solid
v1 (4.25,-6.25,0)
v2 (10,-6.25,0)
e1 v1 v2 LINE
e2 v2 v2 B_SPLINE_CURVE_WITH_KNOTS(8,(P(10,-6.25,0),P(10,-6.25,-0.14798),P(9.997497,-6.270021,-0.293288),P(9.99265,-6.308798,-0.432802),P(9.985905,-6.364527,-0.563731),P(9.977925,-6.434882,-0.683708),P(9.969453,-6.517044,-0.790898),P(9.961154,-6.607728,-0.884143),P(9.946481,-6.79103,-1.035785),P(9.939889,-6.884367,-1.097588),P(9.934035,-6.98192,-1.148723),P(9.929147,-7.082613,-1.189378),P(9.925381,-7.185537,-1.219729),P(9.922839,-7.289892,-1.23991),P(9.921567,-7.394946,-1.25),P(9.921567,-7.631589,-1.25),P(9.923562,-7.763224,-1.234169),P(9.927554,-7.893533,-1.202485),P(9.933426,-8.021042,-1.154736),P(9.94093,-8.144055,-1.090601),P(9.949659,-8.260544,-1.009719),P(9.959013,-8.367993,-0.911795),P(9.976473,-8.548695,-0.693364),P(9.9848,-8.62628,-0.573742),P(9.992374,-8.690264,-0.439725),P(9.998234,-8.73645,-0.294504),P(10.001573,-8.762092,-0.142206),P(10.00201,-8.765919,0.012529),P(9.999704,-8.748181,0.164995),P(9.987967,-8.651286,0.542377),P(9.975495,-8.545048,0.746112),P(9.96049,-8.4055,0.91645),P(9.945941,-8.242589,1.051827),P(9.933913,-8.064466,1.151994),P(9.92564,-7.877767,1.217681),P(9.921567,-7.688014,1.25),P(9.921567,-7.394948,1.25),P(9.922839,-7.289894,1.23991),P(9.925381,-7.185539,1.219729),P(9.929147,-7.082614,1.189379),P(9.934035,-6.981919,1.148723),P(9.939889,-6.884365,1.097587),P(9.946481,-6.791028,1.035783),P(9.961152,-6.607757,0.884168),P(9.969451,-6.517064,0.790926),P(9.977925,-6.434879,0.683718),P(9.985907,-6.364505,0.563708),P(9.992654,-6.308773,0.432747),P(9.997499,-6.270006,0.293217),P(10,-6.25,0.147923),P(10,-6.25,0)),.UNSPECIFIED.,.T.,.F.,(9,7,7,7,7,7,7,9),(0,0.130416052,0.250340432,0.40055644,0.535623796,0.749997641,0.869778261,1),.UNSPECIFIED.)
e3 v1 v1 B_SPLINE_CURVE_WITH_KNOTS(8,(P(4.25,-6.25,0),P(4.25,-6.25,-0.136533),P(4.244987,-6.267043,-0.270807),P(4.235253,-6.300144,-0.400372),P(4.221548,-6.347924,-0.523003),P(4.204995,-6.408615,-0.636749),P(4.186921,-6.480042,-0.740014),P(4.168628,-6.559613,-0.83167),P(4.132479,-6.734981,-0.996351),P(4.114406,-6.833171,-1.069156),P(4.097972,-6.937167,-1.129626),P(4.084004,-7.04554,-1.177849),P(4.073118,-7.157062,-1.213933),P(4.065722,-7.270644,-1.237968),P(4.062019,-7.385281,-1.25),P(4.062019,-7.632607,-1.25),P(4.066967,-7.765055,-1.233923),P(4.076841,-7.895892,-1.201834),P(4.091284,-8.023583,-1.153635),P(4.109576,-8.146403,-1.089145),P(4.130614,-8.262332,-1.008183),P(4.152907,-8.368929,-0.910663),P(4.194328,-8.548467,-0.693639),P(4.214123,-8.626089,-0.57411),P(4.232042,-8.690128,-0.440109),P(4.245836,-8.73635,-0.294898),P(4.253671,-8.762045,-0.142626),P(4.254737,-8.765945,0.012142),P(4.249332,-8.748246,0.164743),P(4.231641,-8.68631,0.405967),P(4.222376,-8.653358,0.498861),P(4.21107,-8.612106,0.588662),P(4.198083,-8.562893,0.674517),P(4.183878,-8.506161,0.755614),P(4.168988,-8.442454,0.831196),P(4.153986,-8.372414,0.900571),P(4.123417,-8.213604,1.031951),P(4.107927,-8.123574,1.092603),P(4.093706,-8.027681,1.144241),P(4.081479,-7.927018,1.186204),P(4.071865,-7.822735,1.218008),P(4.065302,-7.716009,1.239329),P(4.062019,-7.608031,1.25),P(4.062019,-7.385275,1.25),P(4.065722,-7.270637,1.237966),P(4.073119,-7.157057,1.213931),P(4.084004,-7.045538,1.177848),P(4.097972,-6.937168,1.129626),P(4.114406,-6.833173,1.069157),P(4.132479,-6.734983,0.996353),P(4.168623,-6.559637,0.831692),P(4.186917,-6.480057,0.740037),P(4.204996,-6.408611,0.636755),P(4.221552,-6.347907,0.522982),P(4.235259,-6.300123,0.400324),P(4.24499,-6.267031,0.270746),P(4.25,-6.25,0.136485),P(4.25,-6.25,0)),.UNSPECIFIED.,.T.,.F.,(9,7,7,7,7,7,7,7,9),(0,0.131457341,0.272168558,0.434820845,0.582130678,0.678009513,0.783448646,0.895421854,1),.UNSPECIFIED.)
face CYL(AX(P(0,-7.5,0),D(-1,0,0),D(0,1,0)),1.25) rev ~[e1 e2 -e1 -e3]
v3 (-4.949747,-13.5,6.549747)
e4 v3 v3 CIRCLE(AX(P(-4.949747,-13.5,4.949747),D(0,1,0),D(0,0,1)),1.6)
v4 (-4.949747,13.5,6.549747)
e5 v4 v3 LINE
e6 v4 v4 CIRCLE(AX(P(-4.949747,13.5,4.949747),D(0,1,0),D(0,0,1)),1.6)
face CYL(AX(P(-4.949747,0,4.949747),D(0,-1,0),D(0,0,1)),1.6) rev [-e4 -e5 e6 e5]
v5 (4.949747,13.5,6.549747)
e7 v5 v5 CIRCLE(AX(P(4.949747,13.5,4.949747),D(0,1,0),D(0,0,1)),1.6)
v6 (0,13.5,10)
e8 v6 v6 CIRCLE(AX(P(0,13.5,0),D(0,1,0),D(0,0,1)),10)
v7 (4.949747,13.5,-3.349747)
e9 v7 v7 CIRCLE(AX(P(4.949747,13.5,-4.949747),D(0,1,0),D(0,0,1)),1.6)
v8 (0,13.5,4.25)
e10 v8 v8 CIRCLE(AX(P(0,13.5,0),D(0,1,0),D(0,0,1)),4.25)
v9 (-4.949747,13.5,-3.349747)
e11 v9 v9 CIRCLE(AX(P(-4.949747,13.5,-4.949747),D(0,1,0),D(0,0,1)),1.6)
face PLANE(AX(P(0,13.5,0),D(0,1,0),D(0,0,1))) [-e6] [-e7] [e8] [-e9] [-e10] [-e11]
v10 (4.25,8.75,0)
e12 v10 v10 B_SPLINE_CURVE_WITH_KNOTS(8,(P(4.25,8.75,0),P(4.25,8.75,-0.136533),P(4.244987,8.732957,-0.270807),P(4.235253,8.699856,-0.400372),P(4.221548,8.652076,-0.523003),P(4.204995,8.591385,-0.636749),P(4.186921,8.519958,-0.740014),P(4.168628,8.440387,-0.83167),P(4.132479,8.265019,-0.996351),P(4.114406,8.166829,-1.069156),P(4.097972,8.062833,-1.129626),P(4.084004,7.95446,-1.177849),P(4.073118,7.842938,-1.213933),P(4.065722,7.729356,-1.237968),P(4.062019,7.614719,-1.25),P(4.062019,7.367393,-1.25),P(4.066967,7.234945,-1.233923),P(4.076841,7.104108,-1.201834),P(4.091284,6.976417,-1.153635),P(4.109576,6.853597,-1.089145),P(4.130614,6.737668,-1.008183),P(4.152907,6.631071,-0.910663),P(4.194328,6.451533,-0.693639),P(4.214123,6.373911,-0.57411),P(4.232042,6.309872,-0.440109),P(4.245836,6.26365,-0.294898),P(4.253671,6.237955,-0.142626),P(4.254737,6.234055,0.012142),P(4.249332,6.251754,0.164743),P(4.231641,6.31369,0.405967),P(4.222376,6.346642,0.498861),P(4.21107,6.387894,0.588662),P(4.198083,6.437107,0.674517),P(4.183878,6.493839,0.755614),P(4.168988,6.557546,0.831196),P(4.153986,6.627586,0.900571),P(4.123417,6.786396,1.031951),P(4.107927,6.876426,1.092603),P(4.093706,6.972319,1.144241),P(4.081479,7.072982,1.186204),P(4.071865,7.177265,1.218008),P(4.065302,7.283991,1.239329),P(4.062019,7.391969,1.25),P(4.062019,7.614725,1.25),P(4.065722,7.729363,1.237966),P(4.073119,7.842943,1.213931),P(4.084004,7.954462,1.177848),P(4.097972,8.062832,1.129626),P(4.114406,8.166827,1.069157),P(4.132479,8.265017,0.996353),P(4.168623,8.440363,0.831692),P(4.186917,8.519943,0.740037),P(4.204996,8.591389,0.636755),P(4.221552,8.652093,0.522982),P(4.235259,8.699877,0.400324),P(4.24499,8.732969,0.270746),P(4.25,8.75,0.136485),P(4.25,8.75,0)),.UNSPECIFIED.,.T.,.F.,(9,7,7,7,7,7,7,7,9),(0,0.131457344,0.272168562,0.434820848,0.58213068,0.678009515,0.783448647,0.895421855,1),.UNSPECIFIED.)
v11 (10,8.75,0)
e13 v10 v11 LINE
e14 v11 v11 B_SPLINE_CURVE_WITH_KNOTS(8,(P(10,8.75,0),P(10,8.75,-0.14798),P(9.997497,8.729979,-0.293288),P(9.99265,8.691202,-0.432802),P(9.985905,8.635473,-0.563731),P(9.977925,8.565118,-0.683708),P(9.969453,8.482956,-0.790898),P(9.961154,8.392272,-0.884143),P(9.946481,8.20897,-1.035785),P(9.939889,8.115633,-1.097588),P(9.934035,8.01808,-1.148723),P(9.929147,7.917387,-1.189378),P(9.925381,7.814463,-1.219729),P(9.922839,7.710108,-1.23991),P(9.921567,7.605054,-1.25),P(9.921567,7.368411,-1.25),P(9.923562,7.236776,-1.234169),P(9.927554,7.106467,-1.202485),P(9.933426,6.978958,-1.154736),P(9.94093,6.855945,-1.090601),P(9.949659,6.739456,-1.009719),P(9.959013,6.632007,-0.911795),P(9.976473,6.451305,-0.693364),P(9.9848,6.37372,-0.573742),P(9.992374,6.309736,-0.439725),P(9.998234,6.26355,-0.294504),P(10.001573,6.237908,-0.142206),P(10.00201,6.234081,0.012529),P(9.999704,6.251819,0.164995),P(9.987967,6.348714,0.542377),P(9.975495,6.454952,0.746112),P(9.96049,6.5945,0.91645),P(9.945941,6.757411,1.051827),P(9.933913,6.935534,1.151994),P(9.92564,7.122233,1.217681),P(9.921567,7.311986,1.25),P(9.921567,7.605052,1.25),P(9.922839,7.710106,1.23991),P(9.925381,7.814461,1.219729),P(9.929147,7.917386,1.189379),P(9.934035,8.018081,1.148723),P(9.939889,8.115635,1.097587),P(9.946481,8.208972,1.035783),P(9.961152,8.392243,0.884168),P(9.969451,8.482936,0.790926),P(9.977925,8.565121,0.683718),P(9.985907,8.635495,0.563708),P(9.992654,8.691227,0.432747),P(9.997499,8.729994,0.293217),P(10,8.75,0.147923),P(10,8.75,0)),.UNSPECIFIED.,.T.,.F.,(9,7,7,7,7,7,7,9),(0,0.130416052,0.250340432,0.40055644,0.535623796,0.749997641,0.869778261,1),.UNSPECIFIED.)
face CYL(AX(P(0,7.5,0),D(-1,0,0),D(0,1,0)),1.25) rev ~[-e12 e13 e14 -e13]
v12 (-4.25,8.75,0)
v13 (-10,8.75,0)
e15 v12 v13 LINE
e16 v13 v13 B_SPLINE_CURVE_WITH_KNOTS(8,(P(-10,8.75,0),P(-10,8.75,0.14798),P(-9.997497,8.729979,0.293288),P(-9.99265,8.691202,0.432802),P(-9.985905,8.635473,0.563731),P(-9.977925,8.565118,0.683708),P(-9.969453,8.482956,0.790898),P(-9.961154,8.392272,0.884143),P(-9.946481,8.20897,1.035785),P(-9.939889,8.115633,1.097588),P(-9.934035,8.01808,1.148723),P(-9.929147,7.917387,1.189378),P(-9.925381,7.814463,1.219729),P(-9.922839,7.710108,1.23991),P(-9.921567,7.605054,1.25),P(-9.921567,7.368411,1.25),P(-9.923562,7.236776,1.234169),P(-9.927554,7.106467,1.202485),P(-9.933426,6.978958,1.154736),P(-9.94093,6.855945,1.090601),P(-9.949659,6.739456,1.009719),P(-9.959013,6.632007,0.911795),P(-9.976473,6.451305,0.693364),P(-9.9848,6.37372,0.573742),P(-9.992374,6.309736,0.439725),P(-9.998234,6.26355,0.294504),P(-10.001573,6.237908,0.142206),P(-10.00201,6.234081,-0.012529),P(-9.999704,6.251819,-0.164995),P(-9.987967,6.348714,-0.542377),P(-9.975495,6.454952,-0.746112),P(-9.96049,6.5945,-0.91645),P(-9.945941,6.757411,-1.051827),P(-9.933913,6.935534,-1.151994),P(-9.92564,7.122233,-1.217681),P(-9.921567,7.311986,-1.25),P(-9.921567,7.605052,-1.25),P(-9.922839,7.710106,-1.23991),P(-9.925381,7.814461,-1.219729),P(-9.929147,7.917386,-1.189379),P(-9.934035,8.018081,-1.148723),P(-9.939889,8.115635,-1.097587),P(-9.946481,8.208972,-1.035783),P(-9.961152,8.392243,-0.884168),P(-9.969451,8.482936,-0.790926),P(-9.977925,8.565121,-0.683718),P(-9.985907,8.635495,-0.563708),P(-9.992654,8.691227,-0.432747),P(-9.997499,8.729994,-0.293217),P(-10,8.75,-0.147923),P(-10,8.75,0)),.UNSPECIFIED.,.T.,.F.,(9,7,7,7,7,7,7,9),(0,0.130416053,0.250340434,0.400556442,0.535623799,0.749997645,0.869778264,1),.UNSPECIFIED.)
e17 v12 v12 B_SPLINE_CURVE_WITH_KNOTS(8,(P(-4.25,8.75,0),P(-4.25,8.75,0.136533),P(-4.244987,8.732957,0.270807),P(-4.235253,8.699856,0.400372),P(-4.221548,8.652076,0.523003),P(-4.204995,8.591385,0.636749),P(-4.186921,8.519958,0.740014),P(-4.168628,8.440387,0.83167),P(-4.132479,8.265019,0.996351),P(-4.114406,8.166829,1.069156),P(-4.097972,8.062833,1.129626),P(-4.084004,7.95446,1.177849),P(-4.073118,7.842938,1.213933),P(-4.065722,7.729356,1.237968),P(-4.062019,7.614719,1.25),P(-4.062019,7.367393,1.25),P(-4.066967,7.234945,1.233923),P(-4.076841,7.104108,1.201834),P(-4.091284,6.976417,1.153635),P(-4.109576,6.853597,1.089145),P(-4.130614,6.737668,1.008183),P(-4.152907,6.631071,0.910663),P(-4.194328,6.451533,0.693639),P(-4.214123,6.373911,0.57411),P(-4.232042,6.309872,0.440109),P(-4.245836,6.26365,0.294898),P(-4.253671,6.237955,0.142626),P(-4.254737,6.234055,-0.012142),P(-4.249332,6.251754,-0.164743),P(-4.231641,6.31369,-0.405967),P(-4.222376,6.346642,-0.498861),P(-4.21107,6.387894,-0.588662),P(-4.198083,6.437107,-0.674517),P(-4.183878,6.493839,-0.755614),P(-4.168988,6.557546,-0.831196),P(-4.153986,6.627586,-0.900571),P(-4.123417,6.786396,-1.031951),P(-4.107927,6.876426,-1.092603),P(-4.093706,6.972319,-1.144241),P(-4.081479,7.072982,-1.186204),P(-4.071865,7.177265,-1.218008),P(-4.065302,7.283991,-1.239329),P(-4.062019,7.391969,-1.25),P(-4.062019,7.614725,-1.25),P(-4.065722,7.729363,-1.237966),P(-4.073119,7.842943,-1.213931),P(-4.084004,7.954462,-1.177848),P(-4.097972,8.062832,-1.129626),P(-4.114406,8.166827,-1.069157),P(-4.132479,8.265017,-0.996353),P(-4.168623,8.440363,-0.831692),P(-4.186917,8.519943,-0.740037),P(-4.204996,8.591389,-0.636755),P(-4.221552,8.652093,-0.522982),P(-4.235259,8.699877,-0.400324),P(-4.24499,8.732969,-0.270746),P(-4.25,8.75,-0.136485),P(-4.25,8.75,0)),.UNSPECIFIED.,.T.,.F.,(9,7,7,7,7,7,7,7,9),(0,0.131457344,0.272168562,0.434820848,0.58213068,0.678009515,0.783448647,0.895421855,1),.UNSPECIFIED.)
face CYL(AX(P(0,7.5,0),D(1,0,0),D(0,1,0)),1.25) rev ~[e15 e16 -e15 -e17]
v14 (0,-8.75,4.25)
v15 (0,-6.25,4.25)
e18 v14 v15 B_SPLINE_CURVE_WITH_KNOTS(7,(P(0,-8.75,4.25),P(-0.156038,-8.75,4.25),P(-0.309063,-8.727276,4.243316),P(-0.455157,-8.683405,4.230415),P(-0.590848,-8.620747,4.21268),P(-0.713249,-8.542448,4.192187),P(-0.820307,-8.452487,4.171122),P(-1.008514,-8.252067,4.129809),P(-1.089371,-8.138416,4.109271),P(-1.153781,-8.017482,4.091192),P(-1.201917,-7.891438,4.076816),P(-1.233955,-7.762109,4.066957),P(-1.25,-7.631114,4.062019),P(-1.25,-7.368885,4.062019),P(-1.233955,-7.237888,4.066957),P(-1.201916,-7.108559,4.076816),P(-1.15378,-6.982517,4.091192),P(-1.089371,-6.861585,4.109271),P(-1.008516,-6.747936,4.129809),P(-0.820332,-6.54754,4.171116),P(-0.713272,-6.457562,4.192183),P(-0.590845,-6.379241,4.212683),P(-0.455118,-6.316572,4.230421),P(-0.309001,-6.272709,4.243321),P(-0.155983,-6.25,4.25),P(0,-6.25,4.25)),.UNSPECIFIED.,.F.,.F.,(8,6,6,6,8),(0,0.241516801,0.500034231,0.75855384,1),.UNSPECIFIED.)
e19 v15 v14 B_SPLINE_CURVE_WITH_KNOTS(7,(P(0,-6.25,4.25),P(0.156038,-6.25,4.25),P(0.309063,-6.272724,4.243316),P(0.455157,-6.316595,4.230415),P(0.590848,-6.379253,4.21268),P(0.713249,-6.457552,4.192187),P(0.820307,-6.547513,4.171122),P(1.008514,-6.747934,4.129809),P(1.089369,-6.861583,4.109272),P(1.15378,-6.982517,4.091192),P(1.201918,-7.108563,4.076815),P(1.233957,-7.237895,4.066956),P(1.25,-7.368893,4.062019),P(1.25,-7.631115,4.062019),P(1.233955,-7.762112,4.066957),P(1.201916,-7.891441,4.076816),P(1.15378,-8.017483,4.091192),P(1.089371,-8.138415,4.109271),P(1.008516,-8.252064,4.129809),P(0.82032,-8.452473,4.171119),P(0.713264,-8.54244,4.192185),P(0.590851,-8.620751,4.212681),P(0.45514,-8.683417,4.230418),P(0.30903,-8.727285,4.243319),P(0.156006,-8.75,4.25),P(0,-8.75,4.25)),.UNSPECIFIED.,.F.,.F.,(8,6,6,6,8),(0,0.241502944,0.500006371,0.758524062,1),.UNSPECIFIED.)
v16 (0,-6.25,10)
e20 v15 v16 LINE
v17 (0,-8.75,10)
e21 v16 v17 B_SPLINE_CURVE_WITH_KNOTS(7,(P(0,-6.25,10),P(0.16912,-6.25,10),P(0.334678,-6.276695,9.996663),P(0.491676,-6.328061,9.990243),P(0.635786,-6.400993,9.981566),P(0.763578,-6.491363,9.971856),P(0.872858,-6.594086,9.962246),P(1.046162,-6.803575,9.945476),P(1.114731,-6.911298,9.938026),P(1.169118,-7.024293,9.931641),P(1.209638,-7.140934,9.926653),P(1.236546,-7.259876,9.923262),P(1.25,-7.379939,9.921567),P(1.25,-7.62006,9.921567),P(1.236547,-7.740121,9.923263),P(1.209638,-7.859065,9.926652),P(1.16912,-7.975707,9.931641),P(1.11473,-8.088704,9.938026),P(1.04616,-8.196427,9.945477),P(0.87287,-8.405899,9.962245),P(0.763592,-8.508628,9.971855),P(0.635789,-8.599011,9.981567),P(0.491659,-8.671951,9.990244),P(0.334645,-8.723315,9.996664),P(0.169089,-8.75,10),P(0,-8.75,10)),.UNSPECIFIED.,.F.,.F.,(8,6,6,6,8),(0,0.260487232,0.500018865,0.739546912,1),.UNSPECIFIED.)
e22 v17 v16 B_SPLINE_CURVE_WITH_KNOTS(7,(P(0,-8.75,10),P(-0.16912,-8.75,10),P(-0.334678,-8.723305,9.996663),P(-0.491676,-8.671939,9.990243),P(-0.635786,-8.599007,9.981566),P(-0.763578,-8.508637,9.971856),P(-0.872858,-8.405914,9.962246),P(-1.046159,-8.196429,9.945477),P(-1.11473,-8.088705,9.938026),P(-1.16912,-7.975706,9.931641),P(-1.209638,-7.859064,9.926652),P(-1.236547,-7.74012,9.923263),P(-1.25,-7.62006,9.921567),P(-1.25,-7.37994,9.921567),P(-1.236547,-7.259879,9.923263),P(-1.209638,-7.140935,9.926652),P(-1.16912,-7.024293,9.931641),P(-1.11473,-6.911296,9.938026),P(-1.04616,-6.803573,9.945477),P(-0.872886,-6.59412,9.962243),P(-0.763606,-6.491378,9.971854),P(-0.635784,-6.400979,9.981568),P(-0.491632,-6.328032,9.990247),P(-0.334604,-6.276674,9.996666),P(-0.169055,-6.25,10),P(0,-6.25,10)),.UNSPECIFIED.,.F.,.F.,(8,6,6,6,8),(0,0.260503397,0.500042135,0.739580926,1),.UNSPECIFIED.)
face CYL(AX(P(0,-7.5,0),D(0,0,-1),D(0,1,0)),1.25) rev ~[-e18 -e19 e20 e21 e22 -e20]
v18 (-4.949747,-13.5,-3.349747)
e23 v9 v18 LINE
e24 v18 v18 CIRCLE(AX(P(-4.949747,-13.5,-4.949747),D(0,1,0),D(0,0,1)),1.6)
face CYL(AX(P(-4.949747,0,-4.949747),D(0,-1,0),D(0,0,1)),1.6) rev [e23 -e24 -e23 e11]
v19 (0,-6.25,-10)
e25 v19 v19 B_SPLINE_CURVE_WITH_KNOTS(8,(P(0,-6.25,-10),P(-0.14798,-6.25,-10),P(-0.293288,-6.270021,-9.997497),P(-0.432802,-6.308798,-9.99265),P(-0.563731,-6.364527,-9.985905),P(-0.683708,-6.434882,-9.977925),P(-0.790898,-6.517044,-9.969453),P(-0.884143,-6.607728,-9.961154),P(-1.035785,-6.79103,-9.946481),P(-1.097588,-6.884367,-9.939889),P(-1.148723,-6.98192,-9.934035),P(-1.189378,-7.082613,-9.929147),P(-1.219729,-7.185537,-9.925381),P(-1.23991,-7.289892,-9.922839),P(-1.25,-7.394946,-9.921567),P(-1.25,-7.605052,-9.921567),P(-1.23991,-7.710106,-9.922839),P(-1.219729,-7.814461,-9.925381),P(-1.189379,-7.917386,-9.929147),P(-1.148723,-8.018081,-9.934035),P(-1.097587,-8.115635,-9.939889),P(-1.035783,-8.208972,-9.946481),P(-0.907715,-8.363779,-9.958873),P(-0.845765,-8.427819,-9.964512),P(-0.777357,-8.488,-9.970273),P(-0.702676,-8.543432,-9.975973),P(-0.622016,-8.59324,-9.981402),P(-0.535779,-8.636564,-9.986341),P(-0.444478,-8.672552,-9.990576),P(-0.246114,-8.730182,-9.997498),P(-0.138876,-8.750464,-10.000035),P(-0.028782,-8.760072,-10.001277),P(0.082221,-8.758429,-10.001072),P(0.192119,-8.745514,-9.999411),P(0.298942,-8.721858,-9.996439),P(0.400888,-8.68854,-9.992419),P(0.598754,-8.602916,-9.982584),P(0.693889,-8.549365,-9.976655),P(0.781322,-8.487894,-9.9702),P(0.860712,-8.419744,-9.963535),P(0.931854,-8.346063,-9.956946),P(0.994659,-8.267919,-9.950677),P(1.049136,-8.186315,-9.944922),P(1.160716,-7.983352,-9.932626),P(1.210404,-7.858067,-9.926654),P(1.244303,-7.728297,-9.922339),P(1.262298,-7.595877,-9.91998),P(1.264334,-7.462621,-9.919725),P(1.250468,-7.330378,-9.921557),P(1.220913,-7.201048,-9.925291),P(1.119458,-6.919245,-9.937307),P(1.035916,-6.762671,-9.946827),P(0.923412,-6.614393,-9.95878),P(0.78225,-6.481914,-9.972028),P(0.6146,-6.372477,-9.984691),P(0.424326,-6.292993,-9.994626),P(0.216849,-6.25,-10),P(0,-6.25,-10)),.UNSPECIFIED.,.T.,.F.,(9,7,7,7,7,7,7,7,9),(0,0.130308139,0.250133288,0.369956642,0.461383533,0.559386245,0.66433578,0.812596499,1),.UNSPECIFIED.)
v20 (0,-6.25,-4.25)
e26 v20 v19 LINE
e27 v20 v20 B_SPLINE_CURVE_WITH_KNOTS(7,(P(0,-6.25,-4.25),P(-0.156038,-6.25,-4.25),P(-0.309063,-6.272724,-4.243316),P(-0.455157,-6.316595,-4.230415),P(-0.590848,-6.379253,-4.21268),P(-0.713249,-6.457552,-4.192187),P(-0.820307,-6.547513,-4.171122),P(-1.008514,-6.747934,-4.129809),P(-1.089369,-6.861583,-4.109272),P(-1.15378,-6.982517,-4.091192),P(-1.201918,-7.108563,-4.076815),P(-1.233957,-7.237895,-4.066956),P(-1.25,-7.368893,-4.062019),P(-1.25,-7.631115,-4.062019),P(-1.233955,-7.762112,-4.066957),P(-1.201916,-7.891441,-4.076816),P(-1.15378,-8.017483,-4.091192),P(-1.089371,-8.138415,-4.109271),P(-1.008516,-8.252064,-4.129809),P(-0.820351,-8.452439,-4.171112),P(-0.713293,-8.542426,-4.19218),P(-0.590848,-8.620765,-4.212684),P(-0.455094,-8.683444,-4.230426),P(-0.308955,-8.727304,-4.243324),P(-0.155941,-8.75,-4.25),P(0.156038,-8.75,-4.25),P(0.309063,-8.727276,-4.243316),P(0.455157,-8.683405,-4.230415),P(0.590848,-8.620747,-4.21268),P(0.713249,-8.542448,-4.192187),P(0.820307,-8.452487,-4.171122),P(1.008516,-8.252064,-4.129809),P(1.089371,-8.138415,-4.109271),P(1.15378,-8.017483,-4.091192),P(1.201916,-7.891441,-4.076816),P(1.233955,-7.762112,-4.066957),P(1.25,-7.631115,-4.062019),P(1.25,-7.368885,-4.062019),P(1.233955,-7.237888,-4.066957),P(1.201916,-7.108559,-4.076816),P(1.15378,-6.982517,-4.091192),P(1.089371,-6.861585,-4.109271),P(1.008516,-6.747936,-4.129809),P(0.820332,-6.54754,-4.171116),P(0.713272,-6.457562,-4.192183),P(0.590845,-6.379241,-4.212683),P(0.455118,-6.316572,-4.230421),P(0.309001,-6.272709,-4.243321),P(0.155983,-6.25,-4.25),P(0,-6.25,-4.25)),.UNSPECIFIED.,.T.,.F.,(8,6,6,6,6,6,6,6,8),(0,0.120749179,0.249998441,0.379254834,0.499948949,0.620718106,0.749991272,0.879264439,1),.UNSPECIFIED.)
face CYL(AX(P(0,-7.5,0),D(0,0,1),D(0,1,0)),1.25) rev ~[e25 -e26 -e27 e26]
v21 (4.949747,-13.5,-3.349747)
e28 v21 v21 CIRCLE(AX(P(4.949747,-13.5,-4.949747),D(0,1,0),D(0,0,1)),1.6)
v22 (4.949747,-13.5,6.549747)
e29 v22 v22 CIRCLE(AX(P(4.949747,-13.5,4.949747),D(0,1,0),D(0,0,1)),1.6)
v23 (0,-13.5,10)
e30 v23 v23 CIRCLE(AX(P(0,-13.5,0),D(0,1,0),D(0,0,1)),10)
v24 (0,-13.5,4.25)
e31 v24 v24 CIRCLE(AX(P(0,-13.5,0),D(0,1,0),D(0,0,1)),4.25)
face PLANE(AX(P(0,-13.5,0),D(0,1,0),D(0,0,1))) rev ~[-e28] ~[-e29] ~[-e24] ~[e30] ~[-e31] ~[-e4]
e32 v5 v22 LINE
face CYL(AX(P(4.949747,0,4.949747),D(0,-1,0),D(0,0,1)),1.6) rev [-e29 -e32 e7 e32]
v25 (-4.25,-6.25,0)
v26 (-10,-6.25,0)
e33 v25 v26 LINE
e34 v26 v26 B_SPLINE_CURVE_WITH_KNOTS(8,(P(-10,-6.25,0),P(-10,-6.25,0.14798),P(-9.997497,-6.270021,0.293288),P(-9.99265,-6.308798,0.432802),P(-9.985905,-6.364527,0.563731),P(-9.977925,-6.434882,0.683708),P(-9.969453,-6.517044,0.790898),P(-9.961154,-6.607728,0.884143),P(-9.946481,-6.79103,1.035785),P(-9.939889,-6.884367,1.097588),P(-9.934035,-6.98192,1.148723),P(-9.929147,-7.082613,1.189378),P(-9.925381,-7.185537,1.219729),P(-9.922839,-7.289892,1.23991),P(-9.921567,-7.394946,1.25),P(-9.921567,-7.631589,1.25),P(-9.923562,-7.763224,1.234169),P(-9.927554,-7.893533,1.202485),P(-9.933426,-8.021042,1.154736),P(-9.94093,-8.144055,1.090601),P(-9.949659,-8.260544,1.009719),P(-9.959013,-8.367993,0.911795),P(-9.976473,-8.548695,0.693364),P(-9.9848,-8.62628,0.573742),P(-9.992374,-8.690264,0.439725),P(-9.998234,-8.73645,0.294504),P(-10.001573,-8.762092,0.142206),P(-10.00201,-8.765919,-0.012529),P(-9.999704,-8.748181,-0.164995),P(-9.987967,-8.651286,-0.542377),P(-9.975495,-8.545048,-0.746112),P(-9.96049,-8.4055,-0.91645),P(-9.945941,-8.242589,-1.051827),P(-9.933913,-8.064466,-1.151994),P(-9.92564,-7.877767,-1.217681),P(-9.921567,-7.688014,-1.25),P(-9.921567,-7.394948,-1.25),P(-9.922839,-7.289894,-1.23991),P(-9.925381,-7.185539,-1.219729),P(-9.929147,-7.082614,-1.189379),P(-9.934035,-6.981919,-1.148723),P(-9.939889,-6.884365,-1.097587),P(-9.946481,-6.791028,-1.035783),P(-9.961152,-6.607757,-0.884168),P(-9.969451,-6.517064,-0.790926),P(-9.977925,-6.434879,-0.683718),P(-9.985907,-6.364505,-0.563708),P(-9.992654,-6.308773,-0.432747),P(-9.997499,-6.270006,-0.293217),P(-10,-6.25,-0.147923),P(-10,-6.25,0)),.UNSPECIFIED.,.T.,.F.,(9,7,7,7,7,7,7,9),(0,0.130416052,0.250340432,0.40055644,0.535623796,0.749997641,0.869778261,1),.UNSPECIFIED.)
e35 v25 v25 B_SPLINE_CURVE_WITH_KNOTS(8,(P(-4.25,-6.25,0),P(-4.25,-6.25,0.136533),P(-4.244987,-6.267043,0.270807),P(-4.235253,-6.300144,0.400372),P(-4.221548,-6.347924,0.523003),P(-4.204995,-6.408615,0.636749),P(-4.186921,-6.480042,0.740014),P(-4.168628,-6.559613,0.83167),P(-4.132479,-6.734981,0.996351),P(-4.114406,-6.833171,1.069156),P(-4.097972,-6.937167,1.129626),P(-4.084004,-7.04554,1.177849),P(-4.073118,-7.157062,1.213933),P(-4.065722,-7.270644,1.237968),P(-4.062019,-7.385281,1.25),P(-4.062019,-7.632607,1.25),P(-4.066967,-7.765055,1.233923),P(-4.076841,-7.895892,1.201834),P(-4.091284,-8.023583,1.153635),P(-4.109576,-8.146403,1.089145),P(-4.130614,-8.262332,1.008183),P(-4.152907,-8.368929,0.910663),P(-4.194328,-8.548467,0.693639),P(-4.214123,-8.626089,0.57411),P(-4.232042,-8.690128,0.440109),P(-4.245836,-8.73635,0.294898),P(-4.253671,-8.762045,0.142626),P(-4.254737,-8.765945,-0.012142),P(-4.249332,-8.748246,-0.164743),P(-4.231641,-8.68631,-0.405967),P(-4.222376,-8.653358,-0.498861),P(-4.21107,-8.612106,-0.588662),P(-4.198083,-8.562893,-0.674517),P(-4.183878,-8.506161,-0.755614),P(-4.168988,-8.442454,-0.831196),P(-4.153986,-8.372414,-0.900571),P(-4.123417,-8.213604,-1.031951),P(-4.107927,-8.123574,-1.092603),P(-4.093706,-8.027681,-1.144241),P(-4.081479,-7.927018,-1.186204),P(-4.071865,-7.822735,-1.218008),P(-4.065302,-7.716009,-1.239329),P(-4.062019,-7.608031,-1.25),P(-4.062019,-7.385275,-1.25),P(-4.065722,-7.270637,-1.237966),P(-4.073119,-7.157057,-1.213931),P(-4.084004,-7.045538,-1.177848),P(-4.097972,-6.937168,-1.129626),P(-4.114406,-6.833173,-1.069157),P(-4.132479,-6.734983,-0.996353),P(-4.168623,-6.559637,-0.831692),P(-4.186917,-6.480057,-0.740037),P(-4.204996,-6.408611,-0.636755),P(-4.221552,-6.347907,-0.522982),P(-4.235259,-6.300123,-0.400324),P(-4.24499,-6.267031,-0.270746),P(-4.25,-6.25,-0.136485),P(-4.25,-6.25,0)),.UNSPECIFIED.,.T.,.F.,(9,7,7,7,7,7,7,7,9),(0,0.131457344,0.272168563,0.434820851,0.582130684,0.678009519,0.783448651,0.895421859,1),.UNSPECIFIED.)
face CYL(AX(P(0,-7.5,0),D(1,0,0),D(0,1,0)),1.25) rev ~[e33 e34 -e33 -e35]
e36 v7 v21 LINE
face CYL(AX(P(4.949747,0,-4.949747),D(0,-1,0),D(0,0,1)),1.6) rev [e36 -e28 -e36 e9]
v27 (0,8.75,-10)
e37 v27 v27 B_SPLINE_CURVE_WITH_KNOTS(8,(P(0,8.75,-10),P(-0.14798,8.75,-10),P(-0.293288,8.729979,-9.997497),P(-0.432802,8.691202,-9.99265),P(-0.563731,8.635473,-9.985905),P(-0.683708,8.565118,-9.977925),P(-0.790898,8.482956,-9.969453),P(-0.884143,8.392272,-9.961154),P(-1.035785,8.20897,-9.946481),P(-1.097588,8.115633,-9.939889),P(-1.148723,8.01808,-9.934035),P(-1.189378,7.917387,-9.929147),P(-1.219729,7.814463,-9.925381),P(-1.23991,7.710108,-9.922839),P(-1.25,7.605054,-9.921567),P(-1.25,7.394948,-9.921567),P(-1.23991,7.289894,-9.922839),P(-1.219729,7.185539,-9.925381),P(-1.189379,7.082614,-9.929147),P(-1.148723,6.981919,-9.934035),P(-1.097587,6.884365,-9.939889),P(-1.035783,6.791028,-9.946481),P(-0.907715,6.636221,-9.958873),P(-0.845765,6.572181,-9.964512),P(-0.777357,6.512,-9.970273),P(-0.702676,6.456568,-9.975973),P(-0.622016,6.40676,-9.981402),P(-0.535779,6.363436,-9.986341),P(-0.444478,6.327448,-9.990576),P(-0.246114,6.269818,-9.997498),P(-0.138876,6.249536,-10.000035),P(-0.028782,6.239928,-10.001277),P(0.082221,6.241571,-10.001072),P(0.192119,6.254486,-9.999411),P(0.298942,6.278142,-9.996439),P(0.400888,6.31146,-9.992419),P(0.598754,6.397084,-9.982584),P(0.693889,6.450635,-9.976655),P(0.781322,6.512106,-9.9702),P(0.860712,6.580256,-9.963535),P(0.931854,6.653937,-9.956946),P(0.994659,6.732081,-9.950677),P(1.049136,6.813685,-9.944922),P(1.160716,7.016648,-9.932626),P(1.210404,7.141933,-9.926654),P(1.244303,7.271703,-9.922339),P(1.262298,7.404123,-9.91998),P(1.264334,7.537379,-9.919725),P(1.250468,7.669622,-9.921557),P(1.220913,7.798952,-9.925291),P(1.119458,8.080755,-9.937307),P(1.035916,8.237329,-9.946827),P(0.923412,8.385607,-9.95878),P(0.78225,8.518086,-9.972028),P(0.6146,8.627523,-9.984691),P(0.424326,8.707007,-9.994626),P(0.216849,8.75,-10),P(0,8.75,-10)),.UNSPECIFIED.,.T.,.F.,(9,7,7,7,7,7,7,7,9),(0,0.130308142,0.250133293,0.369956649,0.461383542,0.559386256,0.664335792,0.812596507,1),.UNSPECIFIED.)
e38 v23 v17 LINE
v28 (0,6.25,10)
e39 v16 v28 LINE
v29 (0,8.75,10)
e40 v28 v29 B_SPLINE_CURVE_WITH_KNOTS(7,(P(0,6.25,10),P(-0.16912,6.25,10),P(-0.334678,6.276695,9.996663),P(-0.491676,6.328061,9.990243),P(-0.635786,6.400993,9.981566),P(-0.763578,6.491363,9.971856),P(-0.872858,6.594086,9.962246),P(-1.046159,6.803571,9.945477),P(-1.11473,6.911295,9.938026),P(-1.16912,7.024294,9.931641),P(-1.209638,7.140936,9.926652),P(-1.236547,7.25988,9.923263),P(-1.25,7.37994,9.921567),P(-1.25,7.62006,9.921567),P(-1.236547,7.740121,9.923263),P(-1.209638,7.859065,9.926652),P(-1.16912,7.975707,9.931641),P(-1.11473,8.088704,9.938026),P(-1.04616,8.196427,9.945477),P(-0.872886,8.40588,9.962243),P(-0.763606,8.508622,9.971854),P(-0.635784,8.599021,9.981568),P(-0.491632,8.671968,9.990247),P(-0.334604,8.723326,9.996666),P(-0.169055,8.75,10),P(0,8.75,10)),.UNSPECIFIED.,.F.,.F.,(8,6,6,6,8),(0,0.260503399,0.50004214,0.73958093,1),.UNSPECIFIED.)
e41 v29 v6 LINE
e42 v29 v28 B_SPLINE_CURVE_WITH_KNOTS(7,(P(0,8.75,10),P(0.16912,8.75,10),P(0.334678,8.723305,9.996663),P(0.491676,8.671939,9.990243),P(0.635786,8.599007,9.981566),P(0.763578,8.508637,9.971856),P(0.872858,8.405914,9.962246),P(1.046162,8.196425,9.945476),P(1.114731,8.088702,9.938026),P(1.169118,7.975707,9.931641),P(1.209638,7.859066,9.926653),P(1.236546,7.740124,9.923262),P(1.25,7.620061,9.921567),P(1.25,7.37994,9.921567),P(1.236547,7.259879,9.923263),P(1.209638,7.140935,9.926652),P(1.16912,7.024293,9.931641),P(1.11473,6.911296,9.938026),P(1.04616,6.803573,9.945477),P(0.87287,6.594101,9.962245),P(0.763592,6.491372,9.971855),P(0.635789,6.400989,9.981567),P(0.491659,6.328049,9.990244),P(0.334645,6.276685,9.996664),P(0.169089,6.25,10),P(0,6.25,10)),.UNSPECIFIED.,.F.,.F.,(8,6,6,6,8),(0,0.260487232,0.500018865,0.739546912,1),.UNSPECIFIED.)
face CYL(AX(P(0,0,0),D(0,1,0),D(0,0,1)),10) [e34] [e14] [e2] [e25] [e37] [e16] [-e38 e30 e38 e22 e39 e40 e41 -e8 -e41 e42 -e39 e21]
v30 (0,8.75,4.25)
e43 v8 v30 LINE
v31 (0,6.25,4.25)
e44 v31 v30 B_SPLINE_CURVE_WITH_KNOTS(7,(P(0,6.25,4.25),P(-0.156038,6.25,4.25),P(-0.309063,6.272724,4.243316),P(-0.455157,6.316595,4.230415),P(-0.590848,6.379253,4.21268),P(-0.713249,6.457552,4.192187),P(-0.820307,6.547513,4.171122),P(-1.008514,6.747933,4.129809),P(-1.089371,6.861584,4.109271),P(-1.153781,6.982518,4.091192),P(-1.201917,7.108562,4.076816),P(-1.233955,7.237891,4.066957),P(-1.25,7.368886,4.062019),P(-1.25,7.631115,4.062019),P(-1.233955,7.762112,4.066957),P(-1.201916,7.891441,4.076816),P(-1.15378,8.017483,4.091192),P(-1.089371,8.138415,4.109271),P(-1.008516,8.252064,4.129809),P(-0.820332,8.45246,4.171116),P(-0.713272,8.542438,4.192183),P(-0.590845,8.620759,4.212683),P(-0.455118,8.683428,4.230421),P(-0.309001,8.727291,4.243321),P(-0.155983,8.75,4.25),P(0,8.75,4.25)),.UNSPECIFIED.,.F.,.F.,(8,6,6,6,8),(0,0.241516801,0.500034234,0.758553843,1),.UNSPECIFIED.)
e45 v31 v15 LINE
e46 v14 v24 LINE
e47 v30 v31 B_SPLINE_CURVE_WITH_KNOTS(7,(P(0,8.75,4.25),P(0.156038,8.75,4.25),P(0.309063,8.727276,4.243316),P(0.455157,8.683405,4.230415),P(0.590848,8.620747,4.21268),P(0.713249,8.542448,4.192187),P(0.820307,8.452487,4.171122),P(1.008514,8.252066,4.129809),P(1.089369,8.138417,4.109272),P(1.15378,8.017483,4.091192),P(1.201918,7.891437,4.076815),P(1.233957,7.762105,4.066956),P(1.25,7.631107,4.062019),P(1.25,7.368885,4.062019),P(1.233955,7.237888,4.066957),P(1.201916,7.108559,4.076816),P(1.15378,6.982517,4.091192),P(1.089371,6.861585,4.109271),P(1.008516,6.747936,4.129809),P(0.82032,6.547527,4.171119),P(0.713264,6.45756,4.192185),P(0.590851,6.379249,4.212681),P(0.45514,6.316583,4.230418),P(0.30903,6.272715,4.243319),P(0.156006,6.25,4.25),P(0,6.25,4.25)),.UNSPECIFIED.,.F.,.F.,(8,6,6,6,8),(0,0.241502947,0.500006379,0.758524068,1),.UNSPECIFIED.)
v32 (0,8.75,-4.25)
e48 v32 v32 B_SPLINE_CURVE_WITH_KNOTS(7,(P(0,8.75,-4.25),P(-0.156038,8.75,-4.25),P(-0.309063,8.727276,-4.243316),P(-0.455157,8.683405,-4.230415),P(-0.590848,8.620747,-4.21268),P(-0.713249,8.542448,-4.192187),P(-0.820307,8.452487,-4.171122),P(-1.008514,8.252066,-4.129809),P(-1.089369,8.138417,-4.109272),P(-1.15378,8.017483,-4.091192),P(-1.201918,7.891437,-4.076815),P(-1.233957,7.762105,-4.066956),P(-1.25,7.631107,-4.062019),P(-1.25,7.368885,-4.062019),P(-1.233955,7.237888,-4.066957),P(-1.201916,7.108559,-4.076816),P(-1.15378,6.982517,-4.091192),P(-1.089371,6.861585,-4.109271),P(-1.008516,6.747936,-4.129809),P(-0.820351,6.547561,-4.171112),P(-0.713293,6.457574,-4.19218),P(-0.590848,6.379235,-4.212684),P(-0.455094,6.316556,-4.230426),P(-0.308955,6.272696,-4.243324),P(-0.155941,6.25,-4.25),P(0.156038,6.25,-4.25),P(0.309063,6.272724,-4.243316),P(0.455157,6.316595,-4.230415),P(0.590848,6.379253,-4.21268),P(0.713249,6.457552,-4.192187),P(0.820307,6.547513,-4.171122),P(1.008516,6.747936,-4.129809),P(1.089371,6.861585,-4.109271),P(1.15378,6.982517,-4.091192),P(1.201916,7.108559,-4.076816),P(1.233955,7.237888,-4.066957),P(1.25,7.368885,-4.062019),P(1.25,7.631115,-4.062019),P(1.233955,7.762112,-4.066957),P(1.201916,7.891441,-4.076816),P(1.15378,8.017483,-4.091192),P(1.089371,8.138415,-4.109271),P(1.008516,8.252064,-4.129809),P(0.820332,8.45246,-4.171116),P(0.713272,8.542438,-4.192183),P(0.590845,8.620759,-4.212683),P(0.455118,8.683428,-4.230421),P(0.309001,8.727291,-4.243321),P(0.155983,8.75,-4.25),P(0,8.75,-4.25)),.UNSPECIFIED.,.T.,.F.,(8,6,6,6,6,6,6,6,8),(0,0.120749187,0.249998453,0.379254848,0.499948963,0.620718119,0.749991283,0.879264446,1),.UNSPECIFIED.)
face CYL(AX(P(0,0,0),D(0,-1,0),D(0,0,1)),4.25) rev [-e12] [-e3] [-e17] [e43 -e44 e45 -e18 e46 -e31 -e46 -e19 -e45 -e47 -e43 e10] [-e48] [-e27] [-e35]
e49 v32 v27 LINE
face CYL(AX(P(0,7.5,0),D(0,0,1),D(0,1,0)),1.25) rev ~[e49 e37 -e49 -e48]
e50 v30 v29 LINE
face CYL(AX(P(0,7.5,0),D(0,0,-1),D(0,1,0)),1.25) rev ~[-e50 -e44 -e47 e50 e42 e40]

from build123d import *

# Parameters (mm, degrees)
SKETCH_1_R               = 10
SKETCH_1_R_2             = 4.25
SKETCH_1_R_3             = 1.6
EXTRUDE_1_DEPTH          = 13.5
SKETCH_2_R               = 1.25
CUT_EXTRUDE_1_DEPTH      = 20.551214796
PATTERN_CIRCULAR_1_COUNT = 4


with BuildPart() as part:
    # 草图1 → 凸台-拉伸1 (new, symmetric)
    with BuildSketch(Plane(origin=(0, 0, 0), x_dir=(1, 0, 0), z_dir=(0, 1, 0))):
        with Locations(Location((0, 0, 0), (0, 0, 270))):
            Circle(SKETCH_1_R)
        with Locations(Location((0, 0, 0), (0, 0, 270))):
            Circle(SKETCH_1_R_2, mode=Mode.SUBTRACT)
        with Locations(Location((-4.949747468, 4.949747468, 0), (0, 0, 270))):
            Circle(SKETCH_1_R_3, mode=Mode.SUBTRACT)
        with Locations(Location((-4.949747468, -4.949747468, 0), (0, 0, 270))):
            Circle(SKETCH_1_R_3, mode=Mode.SUBTRACT)
        with Locations(Location((4.949747468, -4.949747468, 0), (0, 0, 270))):
            Circle(SKETCH_1_R_3, mode=Mode.SUBTRACT)
        with Locations(Location((4.949747468, 4.949747468, 0), (0, 0, 270))):
            Circle(SKETCH_1_R_3, mode=Mode.SUBTRACT)
    extrude(amount=EXTRUDE_1_DEPTH, both=True)

    # 草图2 → 切除-拉伸1 (cut, through all)
    with BuildSketch(Plane.XY):
        with Locations(Location((0, 7.5, 0), (0, 0, 90))):
            Circle(SKETCH_2_R)
        with Locations(Location((0, -7.5, 0), (0, 0, 90))):
            Circle(SKETCH_2_R)
    cut_extrude_1 = extrude(amount=-CUT_EXTRUDE_1_DEPTH, mode=Mode.SUBTRACT)

    # 阵列(圆周)1: 切除-拉伸1 ×4 about axis
    pattern_circular_1_axis = Axis((0, 13.5, 0), (0, 1, 0))
    for i in range(1, PATTERN_CIRCULAR_1_COUNT):
        add(cut_extrude_1.rotate(pattern_circular_1_axis, i * 360 / PATTERN_CIRCULAR_1_COUNT), mode=Mode.SUBTRACT)


solid = part.part
